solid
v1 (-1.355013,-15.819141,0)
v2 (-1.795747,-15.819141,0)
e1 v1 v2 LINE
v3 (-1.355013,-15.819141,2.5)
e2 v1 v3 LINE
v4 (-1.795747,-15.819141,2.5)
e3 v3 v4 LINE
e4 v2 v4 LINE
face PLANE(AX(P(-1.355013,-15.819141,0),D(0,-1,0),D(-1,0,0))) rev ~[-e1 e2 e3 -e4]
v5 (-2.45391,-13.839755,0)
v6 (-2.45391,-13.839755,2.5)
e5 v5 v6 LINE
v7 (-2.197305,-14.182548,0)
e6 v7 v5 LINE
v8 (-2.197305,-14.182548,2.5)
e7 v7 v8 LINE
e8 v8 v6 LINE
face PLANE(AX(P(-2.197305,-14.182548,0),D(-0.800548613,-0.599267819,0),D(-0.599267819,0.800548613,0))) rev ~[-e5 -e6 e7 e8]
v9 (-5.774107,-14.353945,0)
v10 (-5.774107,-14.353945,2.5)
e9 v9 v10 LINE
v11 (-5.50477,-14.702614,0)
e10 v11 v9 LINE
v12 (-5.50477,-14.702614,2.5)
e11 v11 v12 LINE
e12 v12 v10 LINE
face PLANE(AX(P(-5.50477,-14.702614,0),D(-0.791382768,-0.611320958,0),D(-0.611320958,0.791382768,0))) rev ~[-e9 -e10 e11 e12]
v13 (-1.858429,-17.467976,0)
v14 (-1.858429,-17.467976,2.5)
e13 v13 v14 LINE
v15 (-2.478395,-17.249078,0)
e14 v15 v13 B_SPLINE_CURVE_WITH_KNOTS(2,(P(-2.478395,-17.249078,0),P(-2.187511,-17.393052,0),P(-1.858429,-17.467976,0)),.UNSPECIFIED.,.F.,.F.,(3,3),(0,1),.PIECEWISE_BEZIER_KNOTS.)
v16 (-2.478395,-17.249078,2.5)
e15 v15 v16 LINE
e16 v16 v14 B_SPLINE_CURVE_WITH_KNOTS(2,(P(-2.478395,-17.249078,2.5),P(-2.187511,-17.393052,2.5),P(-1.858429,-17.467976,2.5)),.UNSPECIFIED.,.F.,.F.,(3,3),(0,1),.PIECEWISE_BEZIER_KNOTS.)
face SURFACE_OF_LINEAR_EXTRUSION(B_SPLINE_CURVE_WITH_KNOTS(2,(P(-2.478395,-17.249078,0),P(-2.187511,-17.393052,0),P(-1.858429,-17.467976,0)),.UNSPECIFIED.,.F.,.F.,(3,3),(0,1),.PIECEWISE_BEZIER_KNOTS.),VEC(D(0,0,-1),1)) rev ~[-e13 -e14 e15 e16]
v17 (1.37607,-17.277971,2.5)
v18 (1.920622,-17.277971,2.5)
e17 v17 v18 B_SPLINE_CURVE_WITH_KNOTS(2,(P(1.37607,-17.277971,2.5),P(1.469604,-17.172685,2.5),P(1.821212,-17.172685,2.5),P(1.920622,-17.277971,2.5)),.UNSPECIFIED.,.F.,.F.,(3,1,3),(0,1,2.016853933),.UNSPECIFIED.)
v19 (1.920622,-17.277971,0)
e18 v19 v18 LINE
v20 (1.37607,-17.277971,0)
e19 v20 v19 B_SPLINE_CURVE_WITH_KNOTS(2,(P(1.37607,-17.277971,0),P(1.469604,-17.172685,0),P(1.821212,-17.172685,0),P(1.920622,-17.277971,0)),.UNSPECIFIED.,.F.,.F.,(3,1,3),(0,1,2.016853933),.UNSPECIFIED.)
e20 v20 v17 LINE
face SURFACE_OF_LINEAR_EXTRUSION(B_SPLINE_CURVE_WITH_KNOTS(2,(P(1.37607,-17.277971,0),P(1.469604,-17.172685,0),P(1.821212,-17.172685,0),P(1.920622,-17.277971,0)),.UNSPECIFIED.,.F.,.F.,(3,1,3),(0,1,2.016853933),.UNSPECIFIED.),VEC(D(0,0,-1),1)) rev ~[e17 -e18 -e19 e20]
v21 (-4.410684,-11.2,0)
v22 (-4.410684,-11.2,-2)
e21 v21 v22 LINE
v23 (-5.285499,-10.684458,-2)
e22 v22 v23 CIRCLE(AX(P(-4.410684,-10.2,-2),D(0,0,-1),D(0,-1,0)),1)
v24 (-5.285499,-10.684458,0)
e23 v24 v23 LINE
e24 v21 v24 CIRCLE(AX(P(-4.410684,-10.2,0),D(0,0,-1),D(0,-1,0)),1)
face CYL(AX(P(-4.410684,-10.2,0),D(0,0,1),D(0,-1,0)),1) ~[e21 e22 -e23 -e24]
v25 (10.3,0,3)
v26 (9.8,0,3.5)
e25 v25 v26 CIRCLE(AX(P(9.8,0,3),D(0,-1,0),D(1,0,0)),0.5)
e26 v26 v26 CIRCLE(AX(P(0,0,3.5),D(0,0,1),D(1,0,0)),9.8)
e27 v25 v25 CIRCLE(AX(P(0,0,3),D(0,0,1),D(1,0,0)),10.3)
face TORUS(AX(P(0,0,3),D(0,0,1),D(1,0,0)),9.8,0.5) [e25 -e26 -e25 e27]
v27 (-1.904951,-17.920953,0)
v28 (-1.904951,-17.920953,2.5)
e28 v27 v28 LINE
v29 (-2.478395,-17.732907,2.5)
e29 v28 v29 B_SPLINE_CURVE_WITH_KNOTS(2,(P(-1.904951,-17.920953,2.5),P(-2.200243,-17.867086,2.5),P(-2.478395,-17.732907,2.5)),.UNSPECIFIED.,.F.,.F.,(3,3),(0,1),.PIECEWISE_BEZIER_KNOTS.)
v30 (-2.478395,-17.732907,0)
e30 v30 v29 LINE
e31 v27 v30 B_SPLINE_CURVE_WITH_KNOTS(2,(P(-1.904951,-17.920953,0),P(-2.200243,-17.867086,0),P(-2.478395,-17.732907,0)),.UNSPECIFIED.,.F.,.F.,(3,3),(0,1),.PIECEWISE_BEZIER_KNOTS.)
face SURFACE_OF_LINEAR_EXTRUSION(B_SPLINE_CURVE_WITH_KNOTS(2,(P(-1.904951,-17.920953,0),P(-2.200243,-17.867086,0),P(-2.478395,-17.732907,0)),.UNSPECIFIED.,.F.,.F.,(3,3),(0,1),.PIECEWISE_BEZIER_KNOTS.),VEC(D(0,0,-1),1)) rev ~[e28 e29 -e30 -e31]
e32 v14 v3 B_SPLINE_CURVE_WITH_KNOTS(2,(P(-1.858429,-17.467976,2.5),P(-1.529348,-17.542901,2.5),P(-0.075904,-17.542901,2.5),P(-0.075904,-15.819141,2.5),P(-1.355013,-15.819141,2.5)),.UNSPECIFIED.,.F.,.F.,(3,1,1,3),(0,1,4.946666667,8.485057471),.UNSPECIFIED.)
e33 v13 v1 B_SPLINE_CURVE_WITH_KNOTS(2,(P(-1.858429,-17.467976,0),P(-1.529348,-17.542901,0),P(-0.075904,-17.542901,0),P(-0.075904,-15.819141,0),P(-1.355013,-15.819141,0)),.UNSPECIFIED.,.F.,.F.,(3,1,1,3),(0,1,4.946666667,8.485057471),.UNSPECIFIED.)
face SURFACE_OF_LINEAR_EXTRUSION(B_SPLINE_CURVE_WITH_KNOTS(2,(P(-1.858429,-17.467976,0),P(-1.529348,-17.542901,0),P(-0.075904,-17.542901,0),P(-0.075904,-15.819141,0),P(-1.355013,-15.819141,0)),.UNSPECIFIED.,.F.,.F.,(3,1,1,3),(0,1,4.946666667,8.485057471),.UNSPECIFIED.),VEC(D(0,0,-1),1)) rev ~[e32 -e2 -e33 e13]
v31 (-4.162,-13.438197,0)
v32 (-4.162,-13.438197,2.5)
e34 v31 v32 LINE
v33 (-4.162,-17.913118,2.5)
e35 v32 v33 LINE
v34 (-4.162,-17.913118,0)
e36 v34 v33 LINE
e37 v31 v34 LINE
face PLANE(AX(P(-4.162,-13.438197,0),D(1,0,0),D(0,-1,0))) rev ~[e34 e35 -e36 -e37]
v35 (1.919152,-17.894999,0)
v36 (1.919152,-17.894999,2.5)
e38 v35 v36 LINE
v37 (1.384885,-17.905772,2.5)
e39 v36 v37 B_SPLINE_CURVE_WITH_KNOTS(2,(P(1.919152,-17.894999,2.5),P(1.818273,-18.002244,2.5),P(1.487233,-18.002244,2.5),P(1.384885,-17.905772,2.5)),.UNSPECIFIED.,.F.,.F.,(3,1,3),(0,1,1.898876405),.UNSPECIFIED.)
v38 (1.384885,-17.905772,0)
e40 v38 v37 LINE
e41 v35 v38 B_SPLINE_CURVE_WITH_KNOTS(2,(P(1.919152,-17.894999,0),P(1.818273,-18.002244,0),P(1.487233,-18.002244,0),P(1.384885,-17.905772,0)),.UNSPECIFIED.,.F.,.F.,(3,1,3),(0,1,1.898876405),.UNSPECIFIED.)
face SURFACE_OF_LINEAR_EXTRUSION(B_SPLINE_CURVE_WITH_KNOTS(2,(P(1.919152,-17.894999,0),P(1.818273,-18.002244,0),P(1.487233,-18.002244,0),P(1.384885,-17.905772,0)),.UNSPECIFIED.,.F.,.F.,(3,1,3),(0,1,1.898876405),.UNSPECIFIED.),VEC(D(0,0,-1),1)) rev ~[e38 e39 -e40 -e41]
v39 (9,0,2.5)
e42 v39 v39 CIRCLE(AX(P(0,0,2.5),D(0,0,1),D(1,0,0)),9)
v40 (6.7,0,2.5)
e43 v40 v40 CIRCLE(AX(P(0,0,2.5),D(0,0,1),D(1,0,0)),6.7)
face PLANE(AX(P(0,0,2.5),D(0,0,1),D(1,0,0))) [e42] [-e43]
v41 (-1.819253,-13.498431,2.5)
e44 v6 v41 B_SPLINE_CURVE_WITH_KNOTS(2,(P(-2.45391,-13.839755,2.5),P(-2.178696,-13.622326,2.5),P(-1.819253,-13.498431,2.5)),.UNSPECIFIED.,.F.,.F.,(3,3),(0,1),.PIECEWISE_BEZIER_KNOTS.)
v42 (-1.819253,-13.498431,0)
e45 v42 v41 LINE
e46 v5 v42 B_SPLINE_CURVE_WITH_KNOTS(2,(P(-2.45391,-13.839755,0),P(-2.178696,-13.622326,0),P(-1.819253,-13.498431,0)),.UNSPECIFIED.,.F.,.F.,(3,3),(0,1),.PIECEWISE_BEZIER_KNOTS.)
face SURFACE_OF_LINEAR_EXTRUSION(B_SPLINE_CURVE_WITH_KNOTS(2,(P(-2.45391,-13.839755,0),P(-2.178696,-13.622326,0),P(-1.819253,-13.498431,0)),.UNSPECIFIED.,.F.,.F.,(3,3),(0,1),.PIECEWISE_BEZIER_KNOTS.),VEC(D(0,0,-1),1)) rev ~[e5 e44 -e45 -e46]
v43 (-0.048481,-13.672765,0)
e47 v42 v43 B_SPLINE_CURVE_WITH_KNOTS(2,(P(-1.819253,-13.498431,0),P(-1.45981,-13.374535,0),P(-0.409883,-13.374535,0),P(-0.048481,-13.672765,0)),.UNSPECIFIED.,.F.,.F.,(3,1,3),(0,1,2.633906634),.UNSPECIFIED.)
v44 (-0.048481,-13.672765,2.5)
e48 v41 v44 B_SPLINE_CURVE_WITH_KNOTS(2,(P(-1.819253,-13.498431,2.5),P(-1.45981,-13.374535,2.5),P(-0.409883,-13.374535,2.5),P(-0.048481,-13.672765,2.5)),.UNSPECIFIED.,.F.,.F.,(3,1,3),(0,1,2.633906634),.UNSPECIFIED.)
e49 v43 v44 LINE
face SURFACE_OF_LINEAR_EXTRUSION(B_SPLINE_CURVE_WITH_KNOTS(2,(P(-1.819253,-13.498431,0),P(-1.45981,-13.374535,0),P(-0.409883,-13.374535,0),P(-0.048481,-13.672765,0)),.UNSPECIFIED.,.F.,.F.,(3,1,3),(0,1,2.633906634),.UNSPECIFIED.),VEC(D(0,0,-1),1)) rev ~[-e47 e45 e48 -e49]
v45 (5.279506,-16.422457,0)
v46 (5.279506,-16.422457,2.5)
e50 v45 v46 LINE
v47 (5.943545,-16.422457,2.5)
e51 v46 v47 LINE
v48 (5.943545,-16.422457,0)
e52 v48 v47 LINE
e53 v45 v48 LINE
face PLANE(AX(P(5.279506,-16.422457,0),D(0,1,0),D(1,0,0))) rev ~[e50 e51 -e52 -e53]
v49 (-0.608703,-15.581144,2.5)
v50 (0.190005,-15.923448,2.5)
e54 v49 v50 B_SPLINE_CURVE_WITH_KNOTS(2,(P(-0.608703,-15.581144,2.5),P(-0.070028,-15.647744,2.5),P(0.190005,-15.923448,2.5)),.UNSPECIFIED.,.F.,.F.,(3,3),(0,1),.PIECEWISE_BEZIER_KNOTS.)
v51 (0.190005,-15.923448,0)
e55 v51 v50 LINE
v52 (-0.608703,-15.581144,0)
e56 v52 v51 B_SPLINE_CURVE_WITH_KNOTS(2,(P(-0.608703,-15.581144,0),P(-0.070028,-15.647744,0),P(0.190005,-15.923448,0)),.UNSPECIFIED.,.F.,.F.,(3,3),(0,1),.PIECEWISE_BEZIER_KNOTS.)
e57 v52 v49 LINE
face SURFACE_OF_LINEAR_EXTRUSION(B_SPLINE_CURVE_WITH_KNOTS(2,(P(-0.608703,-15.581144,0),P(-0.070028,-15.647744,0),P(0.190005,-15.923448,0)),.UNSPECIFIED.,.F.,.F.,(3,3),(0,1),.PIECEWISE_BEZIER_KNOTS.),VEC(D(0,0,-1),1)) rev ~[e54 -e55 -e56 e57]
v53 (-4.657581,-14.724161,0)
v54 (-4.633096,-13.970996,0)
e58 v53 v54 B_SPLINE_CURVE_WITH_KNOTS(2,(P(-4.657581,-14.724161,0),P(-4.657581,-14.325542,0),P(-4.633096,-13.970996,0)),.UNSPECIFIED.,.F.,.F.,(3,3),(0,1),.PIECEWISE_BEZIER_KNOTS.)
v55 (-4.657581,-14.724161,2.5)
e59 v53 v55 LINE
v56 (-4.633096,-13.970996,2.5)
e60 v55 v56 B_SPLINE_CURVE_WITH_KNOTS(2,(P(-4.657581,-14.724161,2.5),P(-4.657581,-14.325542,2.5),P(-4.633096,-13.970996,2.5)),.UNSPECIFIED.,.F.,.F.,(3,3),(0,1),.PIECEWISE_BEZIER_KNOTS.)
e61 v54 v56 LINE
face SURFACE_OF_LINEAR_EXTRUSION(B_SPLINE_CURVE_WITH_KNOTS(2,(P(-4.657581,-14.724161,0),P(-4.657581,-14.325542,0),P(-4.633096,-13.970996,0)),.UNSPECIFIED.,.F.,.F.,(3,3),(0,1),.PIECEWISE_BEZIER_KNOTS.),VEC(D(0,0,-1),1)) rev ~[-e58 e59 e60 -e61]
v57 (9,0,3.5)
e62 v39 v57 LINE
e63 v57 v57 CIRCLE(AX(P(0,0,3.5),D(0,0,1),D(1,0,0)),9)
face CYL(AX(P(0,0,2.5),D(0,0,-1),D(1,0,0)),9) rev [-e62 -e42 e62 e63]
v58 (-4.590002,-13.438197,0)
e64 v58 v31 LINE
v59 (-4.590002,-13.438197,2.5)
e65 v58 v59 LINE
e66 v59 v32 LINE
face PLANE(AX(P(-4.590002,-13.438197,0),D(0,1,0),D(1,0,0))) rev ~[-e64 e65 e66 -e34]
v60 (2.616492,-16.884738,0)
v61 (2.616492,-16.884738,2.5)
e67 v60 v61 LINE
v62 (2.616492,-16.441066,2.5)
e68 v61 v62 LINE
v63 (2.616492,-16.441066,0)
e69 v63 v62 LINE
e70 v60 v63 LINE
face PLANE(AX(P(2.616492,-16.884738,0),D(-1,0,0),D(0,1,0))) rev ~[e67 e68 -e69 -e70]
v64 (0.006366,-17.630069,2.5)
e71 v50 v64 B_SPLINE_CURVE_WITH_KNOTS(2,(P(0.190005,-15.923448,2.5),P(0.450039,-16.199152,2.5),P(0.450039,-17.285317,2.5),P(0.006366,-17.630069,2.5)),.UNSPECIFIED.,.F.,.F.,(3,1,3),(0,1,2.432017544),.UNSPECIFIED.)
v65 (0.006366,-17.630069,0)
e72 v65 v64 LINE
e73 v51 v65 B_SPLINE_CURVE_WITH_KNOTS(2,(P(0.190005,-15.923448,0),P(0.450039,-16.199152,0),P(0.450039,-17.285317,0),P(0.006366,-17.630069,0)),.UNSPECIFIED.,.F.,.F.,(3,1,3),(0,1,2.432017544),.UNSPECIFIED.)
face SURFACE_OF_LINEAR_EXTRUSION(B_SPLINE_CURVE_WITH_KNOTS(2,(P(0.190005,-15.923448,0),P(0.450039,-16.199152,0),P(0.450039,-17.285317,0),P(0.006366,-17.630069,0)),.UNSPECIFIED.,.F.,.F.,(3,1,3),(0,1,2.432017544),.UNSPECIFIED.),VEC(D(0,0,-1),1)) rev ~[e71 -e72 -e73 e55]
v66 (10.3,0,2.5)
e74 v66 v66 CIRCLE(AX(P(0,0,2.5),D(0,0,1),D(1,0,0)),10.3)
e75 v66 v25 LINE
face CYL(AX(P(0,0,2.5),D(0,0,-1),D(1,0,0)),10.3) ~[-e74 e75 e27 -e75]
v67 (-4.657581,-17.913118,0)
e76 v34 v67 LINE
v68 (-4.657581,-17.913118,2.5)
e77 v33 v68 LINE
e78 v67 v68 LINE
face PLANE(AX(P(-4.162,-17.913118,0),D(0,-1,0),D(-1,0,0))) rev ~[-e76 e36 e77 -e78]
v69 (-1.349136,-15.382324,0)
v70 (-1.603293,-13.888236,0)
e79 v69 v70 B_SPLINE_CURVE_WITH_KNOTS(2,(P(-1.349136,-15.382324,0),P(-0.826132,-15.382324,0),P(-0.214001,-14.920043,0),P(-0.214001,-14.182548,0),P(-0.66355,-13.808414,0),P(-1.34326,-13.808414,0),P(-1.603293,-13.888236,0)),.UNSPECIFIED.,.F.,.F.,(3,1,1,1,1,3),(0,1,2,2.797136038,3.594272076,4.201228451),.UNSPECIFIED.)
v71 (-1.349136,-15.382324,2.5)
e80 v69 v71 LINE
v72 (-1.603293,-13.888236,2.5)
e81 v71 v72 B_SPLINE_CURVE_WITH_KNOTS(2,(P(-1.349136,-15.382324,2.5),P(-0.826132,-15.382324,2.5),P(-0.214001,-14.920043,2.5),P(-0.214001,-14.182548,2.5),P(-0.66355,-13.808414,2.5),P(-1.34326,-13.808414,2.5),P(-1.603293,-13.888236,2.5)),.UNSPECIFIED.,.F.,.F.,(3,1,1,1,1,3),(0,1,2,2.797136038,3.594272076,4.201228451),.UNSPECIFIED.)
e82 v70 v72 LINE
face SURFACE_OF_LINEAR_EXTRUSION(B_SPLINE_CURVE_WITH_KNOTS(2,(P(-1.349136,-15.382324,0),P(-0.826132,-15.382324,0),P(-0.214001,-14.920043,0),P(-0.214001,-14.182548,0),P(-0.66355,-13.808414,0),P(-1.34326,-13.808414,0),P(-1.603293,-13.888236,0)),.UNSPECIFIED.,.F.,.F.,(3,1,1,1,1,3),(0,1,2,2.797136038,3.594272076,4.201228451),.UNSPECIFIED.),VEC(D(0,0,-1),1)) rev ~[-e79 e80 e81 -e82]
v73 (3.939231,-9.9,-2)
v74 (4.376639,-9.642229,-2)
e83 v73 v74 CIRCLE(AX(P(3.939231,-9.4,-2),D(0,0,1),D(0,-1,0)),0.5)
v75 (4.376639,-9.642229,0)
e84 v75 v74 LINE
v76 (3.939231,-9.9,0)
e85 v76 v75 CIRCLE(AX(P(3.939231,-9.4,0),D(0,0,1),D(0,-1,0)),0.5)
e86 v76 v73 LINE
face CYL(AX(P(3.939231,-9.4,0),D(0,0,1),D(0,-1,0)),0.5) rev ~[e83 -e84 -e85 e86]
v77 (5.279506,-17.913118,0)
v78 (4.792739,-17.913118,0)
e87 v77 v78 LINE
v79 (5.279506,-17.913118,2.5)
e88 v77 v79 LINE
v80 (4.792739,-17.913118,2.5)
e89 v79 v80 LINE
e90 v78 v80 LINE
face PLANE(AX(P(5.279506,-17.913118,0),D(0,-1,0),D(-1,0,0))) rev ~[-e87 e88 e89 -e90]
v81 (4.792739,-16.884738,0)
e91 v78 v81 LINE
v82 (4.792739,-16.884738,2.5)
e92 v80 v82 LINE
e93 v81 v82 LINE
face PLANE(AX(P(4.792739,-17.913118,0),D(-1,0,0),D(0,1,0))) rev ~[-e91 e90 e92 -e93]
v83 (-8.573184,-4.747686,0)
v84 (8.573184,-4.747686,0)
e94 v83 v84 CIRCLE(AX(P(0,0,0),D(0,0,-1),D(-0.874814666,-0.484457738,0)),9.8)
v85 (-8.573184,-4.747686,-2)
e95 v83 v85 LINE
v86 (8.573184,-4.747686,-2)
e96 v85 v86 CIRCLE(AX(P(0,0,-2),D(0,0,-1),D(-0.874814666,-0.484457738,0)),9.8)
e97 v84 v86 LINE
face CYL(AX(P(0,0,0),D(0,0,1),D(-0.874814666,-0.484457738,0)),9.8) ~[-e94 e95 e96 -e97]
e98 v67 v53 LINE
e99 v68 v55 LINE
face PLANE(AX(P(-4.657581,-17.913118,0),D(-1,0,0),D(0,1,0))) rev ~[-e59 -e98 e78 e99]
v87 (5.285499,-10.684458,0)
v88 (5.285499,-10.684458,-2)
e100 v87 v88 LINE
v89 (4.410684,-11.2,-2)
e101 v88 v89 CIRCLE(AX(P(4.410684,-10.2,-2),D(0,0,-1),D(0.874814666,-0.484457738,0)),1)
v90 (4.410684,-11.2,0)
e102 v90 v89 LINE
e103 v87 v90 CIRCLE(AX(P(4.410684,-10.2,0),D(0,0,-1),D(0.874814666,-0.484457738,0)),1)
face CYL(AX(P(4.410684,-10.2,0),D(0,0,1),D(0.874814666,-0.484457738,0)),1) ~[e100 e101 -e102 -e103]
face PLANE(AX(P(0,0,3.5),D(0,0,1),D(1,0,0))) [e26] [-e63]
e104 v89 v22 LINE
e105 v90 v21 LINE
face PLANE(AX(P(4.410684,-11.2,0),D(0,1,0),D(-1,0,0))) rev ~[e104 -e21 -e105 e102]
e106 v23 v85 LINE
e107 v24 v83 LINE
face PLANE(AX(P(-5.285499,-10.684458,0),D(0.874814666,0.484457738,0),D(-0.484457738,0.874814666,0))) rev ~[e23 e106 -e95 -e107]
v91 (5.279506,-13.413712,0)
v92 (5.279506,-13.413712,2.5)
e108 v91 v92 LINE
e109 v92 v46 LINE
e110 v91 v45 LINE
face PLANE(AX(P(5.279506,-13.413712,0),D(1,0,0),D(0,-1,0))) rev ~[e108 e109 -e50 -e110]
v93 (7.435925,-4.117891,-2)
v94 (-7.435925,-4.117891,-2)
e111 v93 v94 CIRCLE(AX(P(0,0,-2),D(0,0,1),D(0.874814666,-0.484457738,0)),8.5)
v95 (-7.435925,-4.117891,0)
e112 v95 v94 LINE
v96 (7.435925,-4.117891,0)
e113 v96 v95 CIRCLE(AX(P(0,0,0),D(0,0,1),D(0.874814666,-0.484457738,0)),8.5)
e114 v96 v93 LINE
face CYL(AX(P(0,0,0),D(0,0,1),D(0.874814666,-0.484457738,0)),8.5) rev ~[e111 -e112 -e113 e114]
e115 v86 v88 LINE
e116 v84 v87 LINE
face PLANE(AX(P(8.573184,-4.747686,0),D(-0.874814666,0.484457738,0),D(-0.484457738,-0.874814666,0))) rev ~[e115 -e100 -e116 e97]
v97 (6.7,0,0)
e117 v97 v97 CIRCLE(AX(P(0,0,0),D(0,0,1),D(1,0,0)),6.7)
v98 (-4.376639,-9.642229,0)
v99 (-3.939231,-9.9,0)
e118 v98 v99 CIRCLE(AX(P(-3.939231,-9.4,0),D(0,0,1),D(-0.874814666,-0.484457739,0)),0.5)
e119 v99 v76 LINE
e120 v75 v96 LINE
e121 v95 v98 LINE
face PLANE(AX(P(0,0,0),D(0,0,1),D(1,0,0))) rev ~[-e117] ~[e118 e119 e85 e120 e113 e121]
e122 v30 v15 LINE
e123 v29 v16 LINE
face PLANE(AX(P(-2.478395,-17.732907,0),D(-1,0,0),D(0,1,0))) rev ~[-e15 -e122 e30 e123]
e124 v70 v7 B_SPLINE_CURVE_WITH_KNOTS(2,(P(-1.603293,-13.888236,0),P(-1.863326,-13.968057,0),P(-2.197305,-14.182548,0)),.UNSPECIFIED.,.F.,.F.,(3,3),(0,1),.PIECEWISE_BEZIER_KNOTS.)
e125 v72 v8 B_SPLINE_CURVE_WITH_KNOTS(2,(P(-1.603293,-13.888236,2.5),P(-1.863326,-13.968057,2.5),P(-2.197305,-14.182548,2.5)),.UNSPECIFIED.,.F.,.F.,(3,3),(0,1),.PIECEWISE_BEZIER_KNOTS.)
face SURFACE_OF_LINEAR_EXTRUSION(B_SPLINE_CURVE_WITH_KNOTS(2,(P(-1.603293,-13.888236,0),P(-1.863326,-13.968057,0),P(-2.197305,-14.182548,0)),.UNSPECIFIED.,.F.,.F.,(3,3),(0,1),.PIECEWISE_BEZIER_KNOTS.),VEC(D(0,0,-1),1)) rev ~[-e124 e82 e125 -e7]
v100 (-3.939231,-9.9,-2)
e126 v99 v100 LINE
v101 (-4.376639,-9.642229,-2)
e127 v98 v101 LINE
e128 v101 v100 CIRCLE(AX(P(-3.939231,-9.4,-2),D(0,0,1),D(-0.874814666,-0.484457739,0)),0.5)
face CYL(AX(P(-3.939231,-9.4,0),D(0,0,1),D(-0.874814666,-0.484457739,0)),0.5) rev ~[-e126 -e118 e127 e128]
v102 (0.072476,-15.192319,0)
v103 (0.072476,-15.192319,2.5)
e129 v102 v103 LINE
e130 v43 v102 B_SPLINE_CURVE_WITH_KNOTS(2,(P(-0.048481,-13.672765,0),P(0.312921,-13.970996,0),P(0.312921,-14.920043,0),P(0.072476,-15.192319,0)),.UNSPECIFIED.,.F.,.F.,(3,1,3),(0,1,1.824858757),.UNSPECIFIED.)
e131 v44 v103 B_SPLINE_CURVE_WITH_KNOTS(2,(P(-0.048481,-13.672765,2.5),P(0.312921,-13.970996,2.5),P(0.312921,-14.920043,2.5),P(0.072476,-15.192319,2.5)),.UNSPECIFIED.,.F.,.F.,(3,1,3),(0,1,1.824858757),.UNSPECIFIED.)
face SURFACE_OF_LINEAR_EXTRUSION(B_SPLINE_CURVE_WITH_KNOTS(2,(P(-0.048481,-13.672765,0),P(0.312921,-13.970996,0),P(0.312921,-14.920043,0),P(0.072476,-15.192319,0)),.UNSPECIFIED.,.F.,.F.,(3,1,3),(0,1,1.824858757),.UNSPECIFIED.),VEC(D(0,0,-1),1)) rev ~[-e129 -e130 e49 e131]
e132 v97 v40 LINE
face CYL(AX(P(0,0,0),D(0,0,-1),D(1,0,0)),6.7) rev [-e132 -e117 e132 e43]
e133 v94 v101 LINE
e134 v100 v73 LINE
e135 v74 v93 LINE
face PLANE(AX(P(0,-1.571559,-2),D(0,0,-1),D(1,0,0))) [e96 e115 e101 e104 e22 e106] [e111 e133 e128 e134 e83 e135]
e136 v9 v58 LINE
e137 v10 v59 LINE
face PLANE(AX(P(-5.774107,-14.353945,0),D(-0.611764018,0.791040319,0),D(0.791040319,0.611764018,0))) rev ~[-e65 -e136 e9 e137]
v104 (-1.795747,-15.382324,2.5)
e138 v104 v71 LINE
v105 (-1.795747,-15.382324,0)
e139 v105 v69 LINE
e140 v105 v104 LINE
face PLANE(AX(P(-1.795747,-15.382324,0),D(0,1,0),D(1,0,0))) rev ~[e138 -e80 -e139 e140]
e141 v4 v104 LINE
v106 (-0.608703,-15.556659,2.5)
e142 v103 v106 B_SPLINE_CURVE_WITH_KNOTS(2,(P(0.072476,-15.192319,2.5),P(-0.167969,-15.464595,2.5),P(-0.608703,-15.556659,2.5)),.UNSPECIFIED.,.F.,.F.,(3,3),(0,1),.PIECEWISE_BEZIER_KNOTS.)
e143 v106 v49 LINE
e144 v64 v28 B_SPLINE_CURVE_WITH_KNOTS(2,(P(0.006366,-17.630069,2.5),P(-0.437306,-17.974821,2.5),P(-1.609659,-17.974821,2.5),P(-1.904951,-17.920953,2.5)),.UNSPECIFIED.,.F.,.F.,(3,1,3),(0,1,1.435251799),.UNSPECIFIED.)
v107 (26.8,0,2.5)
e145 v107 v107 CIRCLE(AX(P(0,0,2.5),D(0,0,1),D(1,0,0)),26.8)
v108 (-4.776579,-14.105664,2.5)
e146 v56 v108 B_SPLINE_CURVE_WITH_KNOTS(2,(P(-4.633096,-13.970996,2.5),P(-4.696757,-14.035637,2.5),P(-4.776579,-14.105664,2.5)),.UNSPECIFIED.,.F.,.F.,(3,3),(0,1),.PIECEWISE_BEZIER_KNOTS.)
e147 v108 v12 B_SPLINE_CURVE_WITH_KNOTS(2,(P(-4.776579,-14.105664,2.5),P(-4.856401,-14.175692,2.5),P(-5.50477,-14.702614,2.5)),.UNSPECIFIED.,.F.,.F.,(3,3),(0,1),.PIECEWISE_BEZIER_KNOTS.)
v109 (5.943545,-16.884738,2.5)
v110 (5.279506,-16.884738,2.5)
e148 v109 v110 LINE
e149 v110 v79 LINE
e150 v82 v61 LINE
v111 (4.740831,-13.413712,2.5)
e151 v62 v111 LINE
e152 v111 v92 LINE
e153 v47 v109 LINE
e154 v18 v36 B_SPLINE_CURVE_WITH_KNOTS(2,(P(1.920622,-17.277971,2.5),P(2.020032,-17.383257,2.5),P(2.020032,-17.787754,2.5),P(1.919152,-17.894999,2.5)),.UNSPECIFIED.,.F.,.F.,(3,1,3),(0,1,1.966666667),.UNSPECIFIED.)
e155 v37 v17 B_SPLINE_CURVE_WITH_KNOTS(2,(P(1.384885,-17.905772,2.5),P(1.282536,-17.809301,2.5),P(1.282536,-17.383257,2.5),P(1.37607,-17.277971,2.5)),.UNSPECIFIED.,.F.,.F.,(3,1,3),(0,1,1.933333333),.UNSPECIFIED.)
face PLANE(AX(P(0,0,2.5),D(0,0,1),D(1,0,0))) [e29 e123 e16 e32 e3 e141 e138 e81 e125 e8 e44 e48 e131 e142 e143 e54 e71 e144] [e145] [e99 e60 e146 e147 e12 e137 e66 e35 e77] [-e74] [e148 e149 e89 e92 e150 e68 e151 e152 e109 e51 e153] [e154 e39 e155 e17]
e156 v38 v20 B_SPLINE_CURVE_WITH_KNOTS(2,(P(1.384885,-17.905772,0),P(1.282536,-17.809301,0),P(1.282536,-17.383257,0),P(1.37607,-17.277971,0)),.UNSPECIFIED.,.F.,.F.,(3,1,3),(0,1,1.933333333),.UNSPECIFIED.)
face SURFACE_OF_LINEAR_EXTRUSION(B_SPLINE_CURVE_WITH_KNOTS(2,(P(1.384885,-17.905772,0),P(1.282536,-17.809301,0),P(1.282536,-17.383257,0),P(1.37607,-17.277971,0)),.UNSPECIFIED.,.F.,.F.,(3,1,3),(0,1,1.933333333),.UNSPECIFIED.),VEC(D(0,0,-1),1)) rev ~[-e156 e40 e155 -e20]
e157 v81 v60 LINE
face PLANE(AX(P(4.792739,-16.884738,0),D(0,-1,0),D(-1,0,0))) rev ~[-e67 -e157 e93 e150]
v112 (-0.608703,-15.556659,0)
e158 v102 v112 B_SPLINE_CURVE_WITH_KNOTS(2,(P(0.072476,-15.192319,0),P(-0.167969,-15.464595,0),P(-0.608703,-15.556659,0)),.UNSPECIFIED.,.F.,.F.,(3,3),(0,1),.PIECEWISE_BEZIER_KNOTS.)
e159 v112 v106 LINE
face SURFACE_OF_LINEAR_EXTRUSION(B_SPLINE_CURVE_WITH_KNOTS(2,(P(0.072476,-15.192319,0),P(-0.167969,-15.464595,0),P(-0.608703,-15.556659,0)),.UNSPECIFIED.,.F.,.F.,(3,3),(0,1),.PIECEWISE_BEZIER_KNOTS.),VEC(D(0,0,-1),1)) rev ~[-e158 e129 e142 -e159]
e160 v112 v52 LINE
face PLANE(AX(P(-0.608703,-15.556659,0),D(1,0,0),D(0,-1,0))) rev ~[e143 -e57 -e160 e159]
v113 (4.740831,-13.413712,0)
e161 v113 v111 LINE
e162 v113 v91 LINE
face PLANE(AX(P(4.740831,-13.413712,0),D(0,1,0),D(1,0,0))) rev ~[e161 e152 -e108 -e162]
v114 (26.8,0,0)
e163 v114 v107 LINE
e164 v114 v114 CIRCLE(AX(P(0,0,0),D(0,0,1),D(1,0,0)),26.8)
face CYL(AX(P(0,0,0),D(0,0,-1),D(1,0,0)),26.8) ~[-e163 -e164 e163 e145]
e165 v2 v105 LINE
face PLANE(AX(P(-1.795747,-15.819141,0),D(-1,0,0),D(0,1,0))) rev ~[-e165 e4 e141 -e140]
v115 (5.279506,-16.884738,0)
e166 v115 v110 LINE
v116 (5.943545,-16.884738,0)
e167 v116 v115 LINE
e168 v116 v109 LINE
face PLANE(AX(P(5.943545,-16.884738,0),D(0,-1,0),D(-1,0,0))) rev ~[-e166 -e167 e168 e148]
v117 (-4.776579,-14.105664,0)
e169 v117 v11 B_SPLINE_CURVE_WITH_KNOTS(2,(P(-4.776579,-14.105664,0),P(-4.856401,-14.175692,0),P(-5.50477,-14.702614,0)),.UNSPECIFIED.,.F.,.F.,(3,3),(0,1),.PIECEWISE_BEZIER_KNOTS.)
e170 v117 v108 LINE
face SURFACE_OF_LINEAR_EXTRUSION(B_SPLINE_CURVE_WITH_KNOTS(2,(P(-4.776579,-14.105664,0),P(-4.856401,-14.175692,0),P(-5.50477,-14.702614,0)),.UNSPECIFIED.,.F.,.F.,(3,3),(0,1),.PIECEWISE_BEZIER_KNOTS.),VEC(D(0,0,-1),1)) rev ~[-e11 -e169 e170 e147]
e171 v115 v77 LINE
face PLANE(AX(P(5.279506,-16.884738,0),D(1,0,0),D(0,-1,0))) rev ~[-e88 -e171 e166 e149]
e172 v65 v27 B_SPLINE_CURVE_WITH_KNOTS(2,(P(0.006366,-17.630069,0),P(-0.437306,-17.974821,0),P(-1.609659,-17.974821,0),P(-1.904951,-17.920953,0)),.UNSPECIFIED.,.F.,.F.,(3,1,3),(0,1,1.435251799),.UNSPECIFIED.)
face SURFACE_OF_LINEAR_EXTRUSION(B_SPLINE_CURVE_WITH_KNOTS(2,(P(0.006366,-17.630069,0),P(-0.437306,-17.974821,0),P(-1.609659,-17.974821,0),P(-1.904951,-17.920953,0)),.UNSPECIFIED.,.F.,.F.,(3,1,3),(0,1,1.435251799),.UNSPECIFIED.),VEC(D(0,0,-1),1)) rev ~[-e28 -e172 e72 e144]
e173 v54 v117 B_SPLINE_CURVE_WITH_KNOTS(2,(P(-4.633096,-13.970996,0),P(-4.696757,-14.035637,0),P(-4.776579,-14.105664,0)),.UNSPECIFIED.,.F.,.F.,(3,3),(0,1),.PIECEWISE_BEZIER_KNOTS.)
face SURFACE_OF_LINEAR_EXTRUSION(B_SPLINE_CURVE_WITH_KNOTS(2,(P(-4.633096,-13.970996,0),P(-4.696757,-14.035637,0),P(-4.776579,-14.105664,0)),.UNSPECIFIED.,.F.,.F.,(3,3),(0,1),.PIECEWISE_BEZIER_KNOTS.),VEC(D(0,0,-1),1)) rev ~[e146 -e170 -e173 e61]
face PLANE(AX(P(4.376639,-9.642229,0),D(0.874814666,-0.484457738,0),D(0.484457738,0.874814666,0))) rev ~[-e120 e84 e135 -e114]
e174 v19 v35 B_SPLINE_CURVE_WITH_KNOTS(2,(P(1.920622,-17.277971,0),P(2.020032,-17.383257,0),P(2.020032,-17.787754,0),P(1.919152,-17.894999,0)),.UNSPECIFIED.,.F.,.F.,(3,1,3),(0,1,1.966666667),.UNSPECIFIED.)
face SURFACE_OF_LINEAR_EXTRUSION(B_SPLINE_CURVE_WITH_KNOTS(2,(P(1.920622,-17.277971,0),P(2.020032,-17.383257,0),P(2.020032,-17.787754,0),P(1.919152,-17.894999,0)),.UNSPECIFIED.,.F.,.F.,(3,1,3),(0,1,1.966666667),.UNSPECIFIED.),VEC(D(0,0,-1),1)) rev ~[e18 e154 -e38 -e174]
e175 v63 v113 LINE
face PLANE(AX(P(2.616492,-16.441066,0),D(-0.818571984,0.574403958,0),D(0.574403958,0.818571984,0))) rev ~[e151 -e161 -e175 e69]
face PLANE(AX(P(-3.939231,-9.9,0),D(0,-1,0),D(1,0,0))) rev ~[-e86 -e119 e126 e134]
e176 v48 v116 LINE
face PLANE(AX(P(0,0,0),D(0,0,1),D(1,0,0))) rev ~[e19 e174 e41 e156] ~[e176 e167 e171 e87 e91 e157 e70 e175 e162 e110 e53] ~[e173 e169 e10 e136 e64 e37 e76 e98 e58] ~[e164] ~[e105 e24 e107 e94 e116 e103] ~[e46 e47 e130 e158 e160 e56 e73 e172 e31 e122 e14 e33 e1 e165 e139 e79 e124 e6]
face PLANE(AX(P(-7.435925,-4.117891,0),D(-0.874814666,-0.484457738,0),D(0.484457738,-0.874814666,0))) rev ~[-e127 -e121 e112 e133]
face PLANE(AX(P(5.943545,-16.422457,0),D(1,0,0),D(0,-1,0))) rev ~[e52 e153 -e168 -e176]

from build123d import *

# Parameters (mm, degrees)
F3_R     = 26.8
F3_R_2   = 6.7
F4_DEPTH = 2.5
F5_R     = 10.3
F5_R_2   = 9
F6_DEPTH = 1
F7_R     = 0.5
F9_DEPTH = 2


with BuildPart() as f4:
    # F3 (on Top) → F4 (new body)
    with BuildSketch(Plane.XY):
        Circle(F3_R)
        with BuildLine():
            Line((-4.1619996915, -13.4381969615), (-4.1619996915, -17.9131179147))
            Line((-4.1619996915, -17.9131179147), (-4.657580782, -17.9131179147))
            Line((-4.657580782, -17.9131179147), (-4.657580782, -14.7241613326))
            add(Edge.make_bspline(
                [(-4.657580782, -14.7241613326), (-4.657580782, -14.3255417599), (-4.6330955502, -13.9709956042)],
                knots=[0, 0, 0, 1, 1, 1], degree=2))
            add(Edge.make_bspline(
                [(-4.6330955502, -13.9709956042), (-4.6967571528, -14.035636616), (-4.7765790083, -14.1056643788)],
                knots=[0, 0, 0, 1, 1, 1], degree=2))
            add(Edge.make_bspline(
                [(-4.7765790083, -14.1056643788), (-4.8564008637, -14.1756921416), (-5.5047698003, -14.7026143287)],
                knots=[0, 0, 0, 1, 1, 1], degree=2))
            Line((-5.5047698003, -14.7026143287), (-5.7741073494, -14.3539446287))
            Line((-5.7741073494, -14.3539446287), (-4.5900015424, -13.4381969615))
            Line((-4.5900015424, -13.4381969615), (-4.1619996915, -13.4381969615))
        make_face(mode=Mode.SUBTRACT)
        with BuildLine():
            add(Edge.make_bspline(
                [(-0.0484807588, -13.6727654816), (0.3129212617, -13.9709956042), (0.3129212617, -14.4910619264)],
                knots=[0, 0, 0, 1, 1, 1], degree=2))
            add(Edge.make_bspline(
                [(0.3129212617, -14.4910619264), (0.3129212617, -14.9200431866), (0.072476286, -15.1923189635)],
                knots=[0, 0, 0, 1, 1, 1], degree=2))
            add(Edge.make_bspline(
                [(0.072476286, -15.1923189635), (-0.1679686898, -15.4645947405), (-0.6087028611, -15.5566592118)],
                knots=[0, 0, 0, 1, 1, 1], degree=2))
            Line((-0.6087028611, -15.5566592118), (-0.6087028611, -15.5811444436))
            add(Edge.make_bspline(
                [(-0.6087028611, -15.5811444436), (-0.0700277628, -15.6477442739), (0.1900053983, -15.9234479833)],
                knots=[0, 0, 0, 1, 1, 1], degree=2))
            add(Edge.make_bspline(
                [(0.1900053983, -15.9234479833), (0.4500385594, -16.1991516928), (0.4500385594, -16.6457623197)],
                knots=[0, 0, 0, 1, 1, 1], degree=2))
            add(Edge.make_bspline(
                [(0.4500385594, -16.6457623197), (0.4500385594, -17.2853165728), (0.0063661603, -17.6300686358)],
                knots=[0, 0, 0, 1, 1, 1], degree=2))
            add(Edge.make_bspline(
                [(0.0063661603, -17.6300686358), (-0.4373062389, -17.9748206987), (-1.2541335698, -17.9748206987)],
                knots=[0, 0, 0, 1, 1, 1], degree=2))
            add(Edge.make_bspline(
                [(-1.2541335698, -17.9748206987), (-1.6096591347, -17.9748206987), (-1.9049510295, -17.9209531889)],
                knots=[0, 0, 0, 1, 1, 1], degree=2))
            add(Edge.make_bspline(
                [(-1.9049510295, -17.9209531889), (-2.2002429243, -17.867085679), (-2.4783951569, -17.7329066091)],
                knots=[0, 0, 0, 1, 1, 1], degree=2))
            Line((-2.4783951569, -17.7329066091), (-2.4783951569, -17.2490784299))
            add(Edge.make_bspline(
                [(-2.4783951569, -17.2490784299), (-2.1875106038, -17.3930515925), (-1.8584290892, -17.4679764016)],
                knots=[0, 0, 0, 1, 1, 1], degree=2))
            add(Edge.make_bspline(
                [(-1.8584290892, -17.4679764016), (-1.5293475746, -17.5429012108), (-1.2355247937, -17.5429012108)],
                knots=[0, 0, 0, 1, 1, 1], degree=2))
            add(Edge.make_bspline(
                [(-1.2355247937, -17.5429012108), (-0.0759042184, -17.5429012108), (-0.0759042184, -16.6340094085)],
                knots=[0, 0, 0, 1, 1, 1], degree=2))
            add(Edge.make_bspline(
                [(-0.0759042184, -16.6340094085), (-0.0759042184, -15.8191408961), (-1.3550127246, -15.8191408961)],
                knots=[0, 0, 0, 1, 1, 1], degree=2))
            Line((-1.3550127246, -15.8191408961), (-1.795746896, -15.8191408961))
            Line((-1.795746896, -15.8191408961), (-1.795746896, -15.3823243618))
            Line((-1.795746896, -15.3823243618), (-1.349136269, -15.3823243618))
            add(Edge.make_bspline(
                [(-1.349136269, -15.3823243618), (-0.826131719, -15.3823243618), (-0.5200663222, -15.1511837742)],
                knots=[0, 0, 0, 1, 1, 1], degree=2))
            add(Edge.make_bspline(
                [(-0.5200663222, -15.1511837742), (-0.2140009254, -14.9200431866), (-0.2140009254, -14.5096707026)],
                knots=[0, 0, 0, 1, 1, 1], degree=2))
            add(Edge.make_bspline(
                [(-0.2140009254, -14.5096707026), (-0.2140009254, -14.1825480065), (-0.4387753528, -13.995480836)],
                knots=[0, 0, 0, 1, 1, 1], degree=2))
            add(Edge.make_bspline(
                [(-0.4387753528, -13.995480836), (-0.6635497802, -13.8084136655), (-1.0494370325, -13.8084136655)],
                knots=[0, 0, 0, 1, 1, 1], degree=2))
            add(Edge.make_bspline(
                [(-1.0494370325, -13.8084136655), (-1.3432598134, -13.8084136655), (-1.6032929745, -13.8882355209)],
                knots=[0, 0, 0, 1, 1, 1], degree=2))
            add(Edge.make_bspline(
                [(-1.6032929745, -13.8882355209), (-1.8633261356, -13.9680573764), (-2.1973046965, -14.1825480065)],
                knots=[0, 0, 0, 1, 1, 1], degree=2))
            Line((-2.1973046965, -14.1825480065), (-2.4539099252, -13.8397547621))
            add(Edge.make_bspline(
                [(-2.4539099252, -13.8397547621), (-2.1786959204, -13.6223259042), (-1.8192527184, -13.4984306316)],
                knots=[0, 0, 0, 1, 1, 1], degree=2))
            add(Edge.make_bspline(
                [(-1.8192527184, -13.4984306316), (-1.4598095165, -13.374535359), (-1.0611899437, -13.374535359)],
                knots=[0, 0, 0, 1, 1, 1], degree=2))
            add(Edge.make_bspline(
                [(-1.0611899437, -13.374535359), (-0.4098827794, -13.374535359), (-0.0484807588, -13.6727654816)],
                knots=[0, 0, 0, 1, 1, 1], degree=2))
        make_face(mode=Mode.SUBTRACT)
        Circle(F3_R_2, mode=Mode.SUBTRACT)
        with BuildLine():
            add(Edge.make_bspline(
                [(1.3848847073, -17.9057723452), (1.2825364387, -17.8093005321), (1.2825364387, -17.5889334464)],
                knots=[0, 0, 0, 1, 1, 1], degree=2))
            add(Edge.make_bspline(
                [(1.2825364387, -17.5889334464), (1.2825364387, -17.3832574998), (1.3760700239, -17.2779710033)],
                knots=[0, 0, 0, 1, 1, 1], degree=2))
            add(Edge.make_bspline(
                [(1.3760700239, -17.2779710033), (1.4696036092, -17.1726845068), (1.6439384592, -17.1726845068)],
                knots=[0, 0, 0, 1, 1, 1], degree=2))
            add(Edge.make_bspline(
                [(1.6439384592, -17.1726845068), (1.821211537, -17.1726845068), (1.9206215779, -17.2779710033)],
                knots=[0, 0, 0, 1, 1, 1], degree=2))
            add(Edge.make_bspline(
                [(1.9206215779, -17.2779710033), (2.0200316187, -17.3832574998), (2.0200316187, -17.5889334464)],
                knots=[0, 0, 0, 1, 1, 1], degree=2))
            add(Edge.make_bspline(
                [(2.0200316187, -17.5889334464), (2.0200316187, -17.7877535282), (1.9191524639, -17.8949988432)],
                knots=[0, 0, 0, 1, 1, 1], degree=2))
            add(Edge.make_bspline(
                [(1.9191524639, -17.8949988432), (1.8182733092, -18.0022441582), (1.6439384592, -18.0022441582)],
                knots=[0, 0, 0, 1, 1, 1], degree=2))
            add(Edge.make_bspline(
                [(1.6439384592, -18.0022441582), (1.487232976, -18.0022441582), (1.3848847073, -17.9057723452)],
                knots=[0, 0, 0, 1, 1, 1], degree=2))
        make_face(mode=Mode.SUBTRACT)
        Polygon((5.9435451531, -16.4224570062), (5.9435451531, -16.8847381815), (5.2795056682, -16.8847381815), (5.2795056682, -17.9131179147), (4.7927392612, -17.9131179147), (4.7927392612, -16.8847381815), (2.616491864, -16.8847381815), (2.616491864, -16.4410657824), (4.7408305699, -13.4137117298), (5.2795056682, -13.4137117298), (5.2795056682, -16.4224570062), align=None, mode=Mode.SUBTRACT)
    extrude(amount=F4_DEPTH)

    # F5 (on face) → F6 (join)
    with BuildSketch(Plane.XY.offset(2.5)):
        Circle(F5_R)
        Circle(F5_R_2, mode=Mode.SUBTRACT)
    extrude(amount=F6_DEPTH)

    # F7
    f7_edges = [f4.edges().sort_by_distance(p)[0] for p in [
        (-10.3, 0, 3.5),
    ]]
    fillet(f7_edges, radius=F7_R)

    # F8 (on face) → F9 (join)
    with BuildSketch(Plane(origin=(0, 0, 0), x_dir=(1, 0, 0), z_dir=(0, 0, -1))):
        with BuildLine():
            Line((-5.2854986866, 10.6844577384), (-8.5731837258, 4.7476858367))
            ThreePointArc((-8.5731837258, 4.7476858367), (0, -9.8), (8.5731837258, 4.7476858367))
            Line((8.5731837258, 4.7476858367), (5.2854986866, 10.6844577384))
            ThreePointArc((5.2854986866, 10.6844577384), (4.9183956817, 11.0615270566), (4.4106840207, 11.2))
            Line((4.4106840207, 11.2), (-4.4106840207, 11.2))
            ThreePointArc((-4.4106840207, 11.2), (-4.9183956817, 11.0615270566), (-5.2854986866, 10.6844577384))
        make_face()
        with BuildLine():
            ThreePointArc((7.4359246601, 4.1178907767), (0, -8.5), (-7.4359246601, 4.1178907767))
            Line((-7.4359246601, 4.1178907767), (-4.3766385702, 9.6422288692))
            ThreePointArc((-4.3766385702, 9.6422288692), (-4.1930870677, 9.8307635283), (-3.9392312372, 9.9))
            Line((-3.9392312372, 9.9), (3.9392312372, 9.9))
            ThreePointArc((3.9392312372, 9.9), (4.1930870677, 9.8307635283), (4.3766385702, 9.6422288692))
            Line((4.3766385702, 9.6422288692), (7.4359246601, 4.1178907767))
        make_face(mode=Mode.SUBTRACT)
    extrude(amount=F9_DEPTH)


solid = f4.part
